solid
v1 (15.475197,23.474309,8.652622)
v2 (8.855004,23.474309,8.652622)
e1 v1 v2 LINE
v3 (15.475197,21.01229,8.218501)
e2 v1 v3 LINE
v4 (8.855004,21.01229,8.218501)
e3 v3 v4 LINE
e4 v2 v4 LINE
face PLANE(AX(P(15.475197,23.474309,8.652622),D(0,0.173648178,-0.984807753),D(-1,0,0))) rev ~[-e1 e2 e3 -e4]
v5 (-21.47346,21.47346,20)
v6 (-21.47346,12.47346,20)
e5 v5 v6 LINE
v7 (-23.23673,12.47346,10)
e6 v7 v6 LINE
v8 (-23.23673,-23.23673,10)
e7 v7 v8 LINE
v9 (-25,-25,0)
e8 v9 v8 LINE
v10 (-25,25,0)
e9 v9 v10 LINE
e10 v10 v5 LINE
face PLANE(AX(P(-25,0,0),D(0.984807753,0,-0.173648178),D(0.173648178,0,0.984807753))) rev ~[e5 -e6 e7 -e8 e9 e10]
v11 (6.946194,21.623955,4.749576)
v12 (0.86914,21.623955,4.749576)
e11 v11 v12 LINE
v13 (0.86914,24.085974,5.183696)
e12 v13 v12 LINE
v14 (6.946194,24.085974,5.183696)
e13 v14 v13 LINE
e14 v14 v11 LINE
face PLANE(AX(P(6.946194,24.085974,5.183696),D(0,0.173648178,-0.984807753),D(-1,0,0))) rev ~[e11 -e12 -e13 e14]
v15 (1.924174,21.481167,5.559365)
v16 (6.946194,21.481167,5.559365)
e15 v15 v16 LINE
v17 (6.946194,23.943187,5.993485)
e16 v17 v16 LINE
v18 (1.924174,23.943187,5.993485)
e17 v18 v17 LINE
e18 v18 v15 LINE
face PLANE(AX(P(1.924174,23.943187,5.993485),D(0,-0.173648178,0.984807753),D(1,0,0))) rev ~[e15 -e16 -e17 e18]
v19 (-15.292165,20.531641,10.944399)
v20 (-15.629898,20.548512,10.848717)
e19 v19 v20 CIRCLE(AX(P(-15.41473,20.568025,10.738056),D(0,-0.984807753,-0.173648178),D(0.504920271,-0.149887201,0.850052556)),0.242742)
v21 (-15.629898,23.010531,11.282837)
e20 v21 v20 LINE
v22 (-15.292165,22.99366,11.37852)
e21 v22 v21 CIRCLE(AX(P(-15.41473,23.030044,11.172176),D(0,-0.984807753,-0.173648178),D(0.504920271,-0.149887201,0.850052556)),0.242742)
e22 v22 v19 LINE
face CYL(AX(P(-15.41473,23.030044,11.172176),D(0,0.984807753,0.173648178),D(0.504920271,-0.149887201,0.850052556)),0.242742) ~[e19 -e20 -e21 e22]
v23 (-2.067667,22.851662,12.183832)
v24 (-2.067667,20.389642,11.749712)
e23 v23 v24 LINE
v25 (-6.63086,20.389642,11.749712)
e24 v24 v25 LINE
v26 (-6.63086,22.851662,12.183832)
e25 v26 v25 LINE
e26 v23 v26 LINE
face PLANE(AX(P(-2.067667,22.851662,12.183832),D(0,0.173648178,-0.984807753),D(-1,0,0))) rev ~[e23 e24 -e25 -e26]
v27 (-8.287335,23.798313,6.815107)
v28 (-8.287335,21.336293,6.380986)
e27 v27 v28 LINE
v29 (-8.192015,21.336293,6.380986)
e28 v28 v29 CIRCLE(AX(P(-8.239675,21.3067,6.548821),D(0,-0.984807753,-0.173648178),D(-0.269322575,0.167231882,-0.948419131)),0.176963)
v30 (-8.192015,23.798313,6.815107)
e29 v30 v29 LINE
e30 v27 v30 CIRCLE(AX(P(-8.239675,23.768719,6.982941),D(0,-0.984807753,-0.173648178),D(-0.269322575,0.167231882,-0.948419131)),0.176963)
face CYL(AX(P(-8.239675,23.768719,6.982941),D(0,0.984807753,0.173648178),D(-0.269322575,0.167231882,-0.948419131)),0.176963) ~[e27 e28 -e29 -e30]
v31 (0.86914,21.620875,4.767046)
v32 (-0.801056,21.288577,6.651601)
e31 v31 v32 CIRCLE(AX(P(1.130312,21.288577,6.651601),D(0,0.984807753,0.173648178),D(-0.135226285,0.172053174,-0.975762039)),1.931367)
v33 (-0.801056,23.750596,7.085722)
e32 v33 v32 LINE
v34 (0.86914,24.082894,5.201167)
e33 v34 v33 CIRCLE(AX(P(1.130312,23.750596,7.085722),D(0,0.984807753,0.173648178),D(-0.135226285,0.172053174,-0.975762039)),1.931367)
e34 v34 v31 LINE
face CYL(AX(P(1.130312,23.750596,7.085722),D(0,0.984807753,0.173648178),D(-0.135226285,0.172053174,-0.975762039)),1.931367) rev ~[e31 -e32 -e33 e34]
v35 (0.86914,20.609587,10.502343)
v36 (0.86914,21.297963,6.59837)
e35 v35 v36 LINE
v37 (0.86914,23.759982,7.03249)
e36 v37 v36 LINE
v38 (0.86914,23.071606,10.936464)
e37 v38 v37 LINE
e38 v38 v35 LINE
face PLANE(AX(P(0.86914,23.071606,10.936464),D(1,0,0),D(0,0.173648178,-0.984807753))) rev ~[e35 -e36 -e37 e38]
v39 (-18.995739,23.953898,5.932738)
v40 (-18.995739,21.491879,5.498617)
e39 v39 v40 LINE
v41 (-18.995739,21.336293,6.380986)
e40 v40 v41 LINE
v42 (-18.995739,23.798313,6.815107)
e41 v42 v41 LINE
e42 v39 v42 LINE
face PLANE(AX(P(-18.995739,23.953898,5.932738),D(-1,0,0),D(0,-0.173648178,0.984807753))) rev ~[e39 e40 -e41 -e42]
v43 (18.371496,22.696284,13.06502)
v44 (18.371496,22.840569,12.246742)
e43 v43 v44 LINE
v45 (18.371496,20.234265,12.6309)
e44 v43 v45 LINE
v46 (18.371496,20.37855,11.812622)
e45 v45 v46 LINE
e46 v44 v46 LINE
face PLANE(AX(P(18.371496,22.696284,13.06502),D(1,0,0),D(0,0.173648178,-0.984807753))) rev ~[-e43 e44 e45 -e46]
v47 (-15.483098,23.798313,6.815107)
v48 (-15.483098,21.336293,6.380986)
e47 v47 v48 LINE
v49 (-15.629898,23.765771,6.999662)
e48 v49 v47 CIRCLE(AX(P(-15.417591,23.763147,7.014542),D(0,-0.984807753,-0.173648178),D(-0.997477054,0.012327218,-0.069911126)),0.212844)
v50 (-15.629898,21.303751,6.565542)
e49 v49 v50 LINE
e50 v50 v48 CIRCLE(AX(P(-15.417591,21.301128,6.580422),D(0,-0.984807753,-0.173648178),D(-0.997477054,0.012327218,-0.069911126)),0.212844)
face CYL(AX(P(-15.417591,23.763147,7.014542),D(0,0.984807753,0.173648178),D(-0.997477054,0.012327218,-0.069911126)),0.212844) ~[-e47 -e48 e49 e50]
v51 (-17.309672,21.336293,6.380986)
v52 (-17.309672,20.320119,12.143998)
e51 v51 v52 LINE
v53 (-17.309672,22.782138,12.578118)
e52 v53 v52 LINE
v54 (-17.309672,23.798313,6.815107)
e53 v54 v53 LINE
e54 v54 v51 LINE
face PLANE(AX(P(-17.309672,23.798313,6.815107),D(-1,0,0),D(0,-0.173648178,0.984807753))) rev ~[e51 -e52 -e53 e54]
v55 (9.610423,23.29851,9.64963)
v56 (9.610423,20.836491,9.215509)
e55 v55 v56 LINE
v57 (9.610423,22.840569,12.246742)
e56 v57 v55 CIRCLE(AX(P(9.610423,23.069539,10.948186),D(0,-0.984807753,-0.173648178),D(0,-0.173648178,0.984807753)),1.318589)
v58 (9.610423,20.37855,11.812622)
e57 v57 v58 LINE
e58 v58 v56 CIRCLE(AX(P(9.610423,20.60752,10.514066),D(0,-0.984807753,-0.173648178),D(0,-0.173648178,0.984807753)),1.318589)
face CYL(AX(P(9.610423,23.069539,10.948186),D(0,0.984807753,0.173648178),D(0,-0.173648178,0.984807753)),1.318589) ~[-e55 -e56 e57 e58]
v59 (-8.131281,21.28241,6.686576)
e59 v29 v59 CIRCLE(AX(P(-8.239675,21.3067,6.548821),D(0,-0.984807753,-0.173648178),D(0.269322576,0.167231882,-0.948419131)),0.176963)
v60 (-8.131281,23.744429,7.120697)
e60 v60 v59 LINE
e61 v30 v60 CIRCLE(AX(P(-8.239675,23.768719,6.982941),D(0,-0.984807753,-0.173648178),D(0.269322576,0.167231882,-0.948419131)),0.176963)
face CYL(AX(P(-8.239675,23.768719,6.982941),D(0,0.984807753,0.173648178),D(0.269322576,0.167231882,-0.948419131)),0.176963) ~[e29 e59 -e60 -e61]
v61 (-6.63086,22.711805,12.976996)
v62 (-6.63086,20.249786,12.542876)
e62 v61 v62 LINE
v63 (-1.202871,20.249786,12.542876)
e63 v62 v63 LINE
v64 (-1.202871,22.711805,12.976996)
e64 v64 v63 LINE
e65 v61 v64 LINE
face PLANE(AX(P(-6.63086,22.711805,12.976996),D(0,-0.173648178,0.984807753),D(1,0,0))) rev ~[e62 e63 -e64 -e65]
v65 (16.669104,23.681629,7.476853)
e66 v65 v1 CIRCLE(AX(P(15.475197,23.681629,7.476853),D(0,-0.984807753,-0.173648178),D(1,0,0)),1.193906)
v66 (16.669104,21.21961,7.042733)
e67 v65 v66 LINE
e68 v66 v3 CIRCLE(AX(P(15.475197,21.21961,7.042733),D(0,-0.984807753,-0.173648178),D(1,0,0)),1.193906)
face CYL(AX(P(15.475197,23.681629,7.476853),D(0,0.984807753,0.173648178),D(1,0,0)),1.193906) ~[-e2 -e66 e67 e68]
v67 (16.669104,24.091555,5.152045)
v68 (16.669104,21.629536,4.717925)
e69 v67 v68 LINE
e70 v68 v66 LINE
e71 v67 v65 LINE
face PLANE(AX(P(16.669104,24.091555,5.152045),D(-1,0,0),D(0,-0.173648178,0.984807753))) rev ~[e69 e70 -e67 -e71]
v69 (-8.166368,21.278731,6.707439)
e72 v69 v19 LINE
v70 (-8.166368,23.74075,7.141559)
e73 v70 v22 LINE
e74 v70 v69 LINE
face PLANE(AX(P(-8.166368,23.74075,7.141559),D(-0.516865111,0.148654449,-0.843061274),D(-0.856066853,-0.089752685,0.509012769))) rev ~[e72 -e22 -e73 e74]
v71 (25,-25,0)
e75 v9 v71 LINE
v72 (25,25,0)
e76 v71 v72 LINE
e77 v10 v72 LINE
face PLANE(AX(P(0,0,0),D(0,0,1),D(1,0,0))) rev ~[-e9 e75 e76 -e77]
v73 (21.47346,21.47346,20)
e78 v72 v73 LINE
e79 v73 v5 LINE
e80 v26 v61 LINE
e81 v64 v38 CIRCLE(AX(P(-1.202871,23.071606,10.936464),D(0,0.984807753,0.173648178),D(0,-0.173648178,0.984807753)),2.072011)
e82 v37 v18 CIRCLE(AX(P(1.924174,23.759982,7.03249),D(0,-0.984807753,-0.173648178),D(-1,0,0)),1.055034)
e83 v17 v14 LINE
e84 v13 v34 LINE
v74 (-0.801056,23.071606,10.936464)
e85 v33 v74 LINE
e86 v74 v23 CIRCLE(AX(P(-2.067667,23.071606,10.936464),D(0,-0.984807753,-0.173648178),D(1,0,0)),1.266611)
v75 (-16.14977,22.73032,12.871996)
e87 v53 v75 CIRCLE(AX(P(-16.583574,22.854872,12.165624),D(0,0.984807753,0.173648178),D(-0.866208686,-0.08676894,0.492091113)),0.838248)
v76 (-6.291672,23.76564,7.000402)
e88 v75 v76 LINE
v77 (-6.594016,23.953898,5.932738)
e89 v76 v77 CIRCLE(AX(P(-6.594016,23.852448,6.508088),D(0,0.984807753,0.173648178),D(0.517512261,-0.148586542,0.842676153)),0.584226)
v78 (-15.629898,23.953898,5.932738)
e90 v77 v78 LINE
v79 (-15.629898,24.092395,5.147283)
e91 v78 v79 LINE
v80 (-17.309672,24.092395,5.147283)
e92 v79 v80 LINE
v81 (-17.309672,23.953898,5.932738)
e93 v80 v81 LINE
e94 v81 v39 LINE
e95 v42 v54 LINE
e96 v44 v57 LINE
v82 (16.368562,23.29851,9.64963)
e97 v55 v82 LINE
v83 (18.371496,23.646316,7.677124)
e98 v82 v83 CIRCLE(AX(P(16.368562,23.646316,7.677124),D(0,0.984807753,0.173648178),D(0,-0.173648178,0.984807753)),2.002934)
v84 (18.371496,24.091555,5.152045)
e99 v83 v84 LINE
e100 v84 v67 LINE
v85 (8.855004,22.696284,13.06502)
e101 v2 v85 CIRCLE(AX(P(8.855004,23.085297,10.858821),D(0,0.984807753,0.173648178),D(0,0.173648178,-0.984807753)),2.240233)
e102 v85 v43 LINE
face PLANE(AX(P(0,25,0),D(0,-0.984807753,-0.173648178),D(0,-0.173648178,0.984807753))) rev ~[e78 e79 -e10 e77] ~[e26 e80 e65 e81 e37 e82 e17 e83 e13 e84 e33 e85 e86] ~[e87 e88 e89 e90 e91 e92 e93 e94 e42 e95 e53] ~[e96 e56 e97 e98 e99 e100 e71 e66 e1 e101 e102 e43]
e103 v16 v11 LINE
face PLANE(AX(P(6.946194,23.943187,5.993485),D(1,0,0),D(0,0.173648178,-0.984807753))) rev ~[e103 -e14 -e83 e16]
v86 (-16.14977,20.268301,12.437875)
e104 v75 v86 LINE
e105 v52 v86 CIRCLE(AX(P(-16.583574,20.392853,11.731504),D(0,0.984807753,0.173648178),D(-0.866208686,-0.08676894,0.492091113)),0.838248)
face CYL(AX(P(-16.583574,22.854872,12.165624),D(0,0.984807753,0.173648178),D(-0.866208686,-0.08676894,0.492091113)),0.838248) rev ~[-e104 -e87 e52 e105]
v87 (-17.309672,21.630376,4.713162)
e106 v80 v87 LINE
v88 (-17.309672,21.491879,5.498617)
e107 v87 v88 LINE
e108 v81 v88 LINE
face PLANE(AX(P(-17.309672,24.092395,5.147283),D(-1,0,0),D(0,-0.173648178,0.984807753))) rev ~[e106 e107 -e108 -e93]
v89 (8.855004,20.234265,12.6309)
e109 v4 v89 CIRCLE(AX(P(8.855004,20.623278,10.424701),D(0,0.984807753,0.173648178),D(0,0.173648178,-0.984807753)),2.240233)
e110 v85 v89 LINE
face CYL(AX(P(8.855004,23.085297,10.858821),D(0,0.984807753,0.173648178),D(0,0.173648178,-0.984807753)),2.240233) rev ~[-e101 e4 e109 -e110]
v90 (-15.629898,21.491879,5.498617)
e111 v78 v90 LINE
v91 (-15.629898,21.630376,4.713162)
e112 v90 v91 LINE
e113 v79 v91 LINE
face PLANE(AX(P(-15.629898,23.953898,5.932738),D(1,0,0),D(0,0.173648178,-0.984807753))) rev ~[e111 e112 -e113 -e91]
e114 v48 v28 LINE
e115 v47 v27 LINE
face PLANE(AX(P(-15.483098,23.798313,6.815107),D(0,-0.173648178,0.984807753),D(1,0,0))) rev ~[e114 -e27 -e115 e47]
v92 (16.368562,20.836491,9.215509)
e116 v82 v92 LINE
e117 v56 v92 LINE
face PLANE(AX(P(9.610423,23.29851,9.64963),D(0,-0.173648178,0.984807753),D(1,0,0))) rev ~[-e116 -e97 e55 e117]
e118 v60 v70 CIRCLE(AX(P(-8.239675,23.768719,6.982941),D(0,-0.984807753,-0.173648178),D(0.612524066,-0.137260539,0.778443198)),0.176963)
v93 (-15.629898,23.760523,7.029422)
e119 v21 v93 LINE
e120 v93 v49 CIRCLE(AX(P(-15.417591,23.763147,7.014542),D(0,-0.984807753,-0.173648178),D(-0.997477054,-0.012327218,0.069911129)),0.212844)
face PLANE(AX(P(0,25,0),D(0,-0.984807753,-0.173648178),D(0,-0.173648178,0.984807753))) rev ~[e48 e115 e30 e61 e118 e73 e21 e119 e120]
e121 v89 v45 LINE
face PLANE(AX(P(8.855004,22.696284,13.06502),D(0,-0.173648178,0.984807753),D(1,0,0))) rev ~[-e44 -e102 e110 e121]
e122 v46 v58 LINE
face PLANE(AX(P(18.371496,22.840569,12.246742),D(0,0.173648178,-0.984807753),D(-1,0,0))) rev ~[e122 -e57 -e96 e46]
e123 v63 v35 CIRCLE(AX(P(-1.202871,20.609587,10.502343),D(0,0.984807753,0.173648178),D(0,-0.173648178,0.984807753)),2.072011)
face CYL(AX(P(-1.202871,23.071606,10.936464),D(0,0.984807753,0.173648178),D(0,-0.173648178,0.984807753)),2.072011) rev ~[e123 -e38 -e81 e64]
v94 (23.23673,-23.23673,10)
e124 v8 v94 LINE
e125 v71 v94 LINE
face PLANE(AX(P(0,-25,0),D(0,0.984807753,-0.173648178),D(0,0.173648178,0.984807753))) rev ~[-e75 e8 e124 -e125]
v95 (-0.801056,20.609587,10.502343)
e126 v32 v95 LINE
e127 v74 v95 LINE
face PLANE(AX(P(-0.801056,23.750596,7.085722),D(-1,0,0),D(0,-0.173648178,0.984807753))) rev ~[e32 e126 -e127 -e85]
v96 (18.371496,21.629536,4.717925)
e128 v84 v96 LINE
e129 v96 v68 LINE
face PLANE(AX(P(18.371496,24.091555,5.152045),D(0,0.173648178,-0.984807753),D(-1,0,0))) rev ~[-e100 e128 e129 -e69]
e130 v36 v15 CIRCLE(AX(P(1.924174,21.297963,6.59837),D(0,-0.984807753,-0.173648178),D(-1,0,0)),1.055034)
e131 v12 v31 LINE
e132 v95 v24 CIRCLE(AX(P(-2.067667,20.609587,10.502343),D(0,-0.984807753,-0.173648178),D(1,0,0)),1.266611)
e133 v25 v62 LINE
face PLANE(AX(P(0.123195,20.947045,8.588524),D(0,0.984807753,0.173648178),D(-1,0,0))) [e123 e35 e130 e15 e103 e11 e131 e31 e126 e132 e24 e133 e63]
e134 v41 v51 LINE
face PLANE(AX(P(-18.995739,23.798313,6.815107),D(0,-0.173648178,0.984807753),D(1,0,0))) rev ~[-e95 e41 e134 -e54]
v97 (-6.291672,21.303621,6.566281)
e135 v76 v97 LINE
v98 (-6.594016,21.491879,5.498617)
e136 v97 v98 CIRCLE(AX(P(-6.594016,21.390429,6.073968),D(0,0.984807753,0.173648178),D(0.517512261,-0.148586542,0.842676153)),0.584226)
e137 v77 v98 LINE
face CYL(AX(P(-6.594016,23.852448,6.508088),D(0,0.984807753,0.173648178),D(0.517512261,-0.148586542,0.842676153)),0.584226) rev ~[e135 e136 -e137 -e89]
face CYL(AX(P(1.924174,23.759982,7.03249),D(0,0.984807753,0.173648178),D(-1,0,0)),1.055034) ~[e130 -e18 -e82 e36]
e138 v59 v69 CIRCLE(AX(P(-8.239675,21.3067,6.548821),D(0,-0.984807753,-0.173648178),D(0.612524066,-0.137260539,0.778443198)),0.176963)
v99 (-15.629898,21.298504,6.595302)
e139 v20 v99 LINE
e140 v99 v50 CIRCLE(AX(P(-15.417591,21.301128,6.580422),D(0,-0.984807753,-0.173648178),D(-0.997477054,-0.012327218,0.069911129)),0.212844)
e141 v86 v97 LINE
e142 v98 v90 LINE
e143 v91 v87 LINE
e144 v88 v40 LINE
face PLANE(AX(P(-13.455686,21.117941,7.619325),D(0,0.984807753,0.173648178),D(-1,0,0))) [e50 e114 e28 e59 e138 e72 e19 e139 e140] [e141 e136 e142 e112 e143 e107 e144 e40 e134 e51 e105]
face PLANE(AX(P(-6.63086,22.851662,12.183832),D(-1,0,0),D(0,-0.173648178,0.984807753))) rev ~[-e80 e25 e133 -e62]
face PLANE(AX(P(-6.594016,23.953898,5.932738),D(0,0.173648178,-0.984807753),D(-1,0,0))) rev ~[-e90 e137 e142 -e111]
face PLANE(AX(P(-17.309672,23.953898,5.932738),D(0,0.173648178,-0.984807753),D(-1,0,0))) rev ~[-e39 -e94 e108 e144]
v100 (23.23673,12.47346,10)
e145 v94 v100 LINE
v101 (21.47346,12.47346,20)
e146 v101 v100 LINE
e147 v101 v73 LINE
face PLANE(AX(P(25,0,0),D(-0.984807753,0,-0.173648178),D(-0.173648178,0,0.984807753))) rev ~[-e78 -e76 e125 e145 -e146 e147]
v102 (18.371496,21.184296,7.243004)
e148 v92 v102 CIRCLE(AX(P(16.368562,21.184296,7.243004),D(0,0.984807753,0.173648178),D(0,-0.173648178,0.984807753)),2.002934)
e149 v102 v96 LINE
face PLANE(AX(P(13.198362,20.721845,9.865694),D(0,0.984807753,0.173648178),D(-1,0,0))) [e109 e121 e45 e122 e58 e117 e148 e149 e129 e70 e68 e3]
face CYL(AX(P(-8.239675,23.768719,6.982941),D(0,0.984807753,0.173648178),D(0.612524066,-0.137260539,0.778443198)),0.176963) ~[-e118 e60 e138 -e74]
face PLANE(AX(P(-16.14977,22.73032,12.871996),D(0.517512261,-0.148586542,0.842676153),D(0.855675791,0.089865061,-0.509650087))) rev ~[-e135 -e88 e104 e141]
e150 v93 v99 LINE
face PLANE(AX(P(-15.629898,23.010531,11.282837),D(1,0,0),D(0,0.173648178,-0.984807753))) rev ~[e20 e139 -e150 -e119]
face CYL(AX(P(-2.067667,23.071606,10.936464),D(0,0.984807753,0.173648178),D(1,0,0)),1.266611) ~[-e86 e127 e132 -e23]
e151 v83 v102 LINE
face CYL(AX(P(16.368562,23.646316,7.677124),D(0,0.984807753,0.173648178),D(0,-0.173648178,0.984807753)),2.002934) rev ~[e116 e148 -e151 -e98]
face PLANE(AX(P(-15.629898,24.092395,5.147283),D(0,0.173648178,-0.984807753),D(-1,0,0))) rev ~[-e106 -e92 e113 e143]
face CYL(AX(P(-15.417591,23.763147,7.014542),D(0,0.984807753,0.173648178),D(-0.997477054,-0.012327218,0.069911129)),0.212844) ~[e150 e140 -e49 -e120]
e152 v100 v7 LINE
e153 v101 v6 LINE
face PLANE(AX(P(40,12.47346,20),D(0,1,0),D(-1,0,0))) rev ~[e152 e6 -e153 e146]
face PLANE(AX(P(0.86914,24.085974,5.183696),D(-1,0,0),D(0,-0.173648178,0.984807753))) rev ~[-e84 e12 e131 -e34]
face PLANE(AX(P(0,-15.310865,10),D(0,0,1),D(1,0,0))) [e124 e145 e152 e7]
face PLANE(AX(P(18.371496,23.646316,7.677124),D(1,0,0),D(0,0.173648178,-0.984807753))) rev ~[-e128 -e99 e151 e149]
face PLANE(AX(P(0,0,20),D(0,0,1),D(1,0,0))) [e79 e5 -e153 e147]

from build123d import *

# Parameters (mm, degrees)
F0_W     = 50
F0_H     = 50
F1_DEPTH = 20
F1_TAPER = 10
F4_DEPTH = 2.5
F5_W     = 42.9469207717
F5_H     = 33.9469207717
F6_DEPTH = 10


with BuildPart() as f1:
    # F0 (on Top) → F1 (new body)
    with BuildSketch(Plane.XY):
        Rectangle(F0_W, F0_H)
    extrude(amount=F1_DEPTH, taper=F1_TAPER)

    # F3 (on face) → F4 (cut)
    with BuildSketch(Plane(origin=(0, 24.2461577598, 4.2752517916), x_dir=(-1, 0, 0), z_dir=(0, 0.984807753, 0.1736481777))):
        with BuildLine():
            ThreePointArc((-62.6127916525, 12.0467824013), (-65.1076142535, 12.9570129346), (-67.6967318406, 13.5478847947))
            Line((-67.6967318406, 13.5478847947), (-67.6967318406, 1.7008224913))
            Line((-67.6967318406, 1.7008224913), (-64.9974017565, 0.6510827954))
            Line((-64.9974017565, 0.6510827954), (-64.9974017565, 10.8966148214))
            ThreePointArc((-64.9974017565, 10.8966148214), (-64.4272854823, 11.4667310956), (-63.8571692081, 10.8966148214))
            Line((-63.8571692081, 10.8966148214), (-63.8571692081, 6.5746134929))
            ThreePointArc((-63.8571692081, 6.5746134929), (-63.1556576777, 6.2062071738), (-62.36370085, 6.1807901262))
            ThreePointArc((-62.36370085, 6.1807901262), (-61.4973256009, 6.5898476466), (-60.9304969783, 7.3622720376))
            ThreePointArc((-60.9304969783, 7.3622720376), (-60.8139105128, 8.6329221267), (-60.9304969783, 9.9035722157))
            ThreePointArc((-60.9304969783, 9.9035722157), (-61.4992901353, 11.1889594143), (-62.6127916525, 12.0467824013))
        make_face()
        with BuildLine():
            Line((-59.852306272, 4.1264343026), (-64.3468709521, 2.5074238792))
            Line((-64.3468709521, 2.5074238792), (-64.3468709521, 0.8903192669))
            Line((-64.3468709521, 0.8903192669), (-59.1967386775, 2.745475089))
            ThreePointArc((-59.1967386775, 2.745475089), (-58.3600263338, 3.0909475212), (-57.5693056666, 3.5316283287))
            ThreePointArc((-57.5693056666, 3.5316283287), (-57.2106825124, 3.8266438133), (-57.1279449174, 4.2835893169))
            ThreePointArc((-57.1279449174, 4.2835893169), (-57.2731405563, 4.626683197), (-57.5693056666, 4.8526951689))
            ThreePointArc((-57.5693056666, 4.8526951689), (-59.1391575222, 5.4515460975), (-60.8064195051, 5.6596200345))
            ThreePointArc((-60.8064195051, 5.6596200345), (-62.3430133295, 5.6105588901), (-63.8571692081, 5.3443643137))
            Line((-63.8571692081, 5.3443643137), (-64.3733816954, 5.1584167399))
            Line((-64.3733816954, 5.1584167399), (-64.3733816954, 3.567821243))
            Line((-64.3733816954, 3.567821243), (-61.5377031577, 4.5892756967))
            ThreePointArc((-61.5377031577, 4.5892756967), (-61.4484140803, 4.623308608), (-61.3579327635, 4.6540317215))
            ThreePointArc((-61.3579327635, 4.6540317215), (-60.7215197269, 4.7724043893), (-60.0756078839, 4.7296079809))
            ThreePointArc((-60.0756078839, 4.7296079809), (-59.8276638338, 4.6512158498), (-59.6342471347, 4.4774011246))
            ThreePointArc((-59.6342471347, 4.4774011246), (-59.607836679, 4.389638385), (-59.6342471347, 4.3018756454))
            ThreePointArc((-59.6342471347, 4.3018756454), (-59.7293419591, 4.1968352348), (-59.852306272, 4.1264343026))
        make_face()
        with BuildLine():
            Line((-61.5377031577, 4.5892756967), (-61.3579327635, 4.6540317215))
            ThreePointArc((-61.3579327635, 4.6540317215), (-61.4484140803, 4.623308608), (-61.5377031577, 4.5892756967))
        make_face()
        with BuildLine():
            Line((-71.3693953118, 3.7232309117), (-68.2338687675, 4.8526951689))
            Line((-68.2338687675, 4.8526951689), (-68.2338687675, 6.3986412263))
            Line((-68.2338687675, 6.3986412263), (-72.8589746057, 4.7326078963))
            ThreePointArc((-72.8589746057, 4.7326078963), (-73.3660543121, 4.4190102256), (-73.7959157464, 4.0058607672))
            ThreePointArc((-73.7959157464, 4.0058607672), (-73.8489158308, 3.7221286407), (-73.7959157464, 3.4383965142))
            ThreePointArc((-73.7959157464, 3.4383965142), (-73.5719055484, 3.0819711924), (-73.2075114709, 2.8711714412))
            ThreePointArc((-73.2075114709, 2.8711714412), (-72.698935386, 2.6276316569), (-72.151396822, 2.4928622925))
            ThreePointArc((-72.151396822, 2.4928622925), (-71.0199458053, 2.2564276603), (-69.8657767964, 2.1933670766))
            ThreePointArc((-69.8657767964, 2.1933670766), (-69.0466795364, 2.2155081429), (-68.2338687675, 2.3191865022))
            Line((-68.2338687675, 2.3191865022), (-68.2338687675, 3.7681726435))
            ThreePointArc((-68.2338687675, 3.7681726435), (-68.7127832674, 3.5843780991), (-69.2045442964, 3.4383965142))
            ThreePointArc((-69.2045442964, 3.4383965142), (-70.2705361783, 3.1526989385), (-71.3693953118, 3.2550239211))
            ThreePointArc((-71.3693953118, 3.2550239211), (-71.4727799338, 3.4891274164), (-71.3693953118, 3.7232309117))
        make_face()
        with BuildLine():
            Line((-8.8550038247, 8.9253647507), (-18.3714963496, 8.9253647507))
            Line((-18.3714963496, 8.9253647507), (-18.3714963496, 8.0944637033))
            Line((-18.3714963496, 8.0944637033), (-9.6104234449, 8.0944637033))
            ThreePointArc((-9.6104234449, 8.0944637033), (-8.2918347743, 6.7758750328), (-9.6104234449, 5.4572863622))
            Line((-9.6104234449, 5.4572863622), (-16.3685619547, 5.4572863622))
            ThreePointArc((-16.3685619547, 5.4572863622), (-17.7848504476, 4.8706404602), (-18.3714963496, 3.4543519673))
            Line((-18.3714963496, 3.4543519673), (-18.3714963496, 0.8903192669))
            Line((-18.3714963496, 0.8903192669), (-16.6691035906, 0.8903192669))
            Line((-16.6691035906, 0.8903192669), (-16.6691035906, 3.2509914089))
            ThreePointArc((-16.6691035906, 3.2509914089), (-16.3194164791, 4.0952107761), (-15.475197112, 4.4448978876))
            Line((-15.475197112, 4.4448978876), (-8.8550038247, 4.4448978876))
            ThreePointArc((-8.8550038247, 4.4448978876), (-6.6147703931, 6.6851313191), (-8.8550038247, 8.9253647507))
        make_face()
        with BuildLine():
            Line((6.6308597895, 8.0305831634), (6.6308597895, 8.8359827707))
            Line((6.6308597895, 8.8359827707), (1.2028706223, 8.8359827707))
            ThreePointArc((1.2028706223, 8.8359827707), (-0.2622622882, 8.2291048484), (-0.8691402105, 6.7639719379))
            Line((-0.8691402105, 6.7639719379), (-0.8691402105, 2.7997734057))
            ThreePointArc((-0.8691402105, 2.7997734057), (-1.1781523708, 2.0537520573), (-1.9241737192, 1.744739897))
            Line((-1.9241737192, 1.744739897), (-6.9461943019, 1.744739897))
            Line((-6.9461943019, 1.744739897), (-6.9461943019, 0.9224587447))
            Line((-6.9461943019, 0.9224587447), (-1.1303118512, 0.9224587447))
            ThreePointArc((-1.1303118512, 0.9224587447), (-0.9994251278, 0.9268988758), (-0.8691402105, 0.9401988537))
            ThreePointArc((-0.8691402105, 0.9401988537), (0.324782393, 1.5838337022), (0.8010555712, 2.8538261671))
            Line((0.8010555712, 2.8538261671), (0.8010555712, 6.7639719379))
            ThreePointArc((0.8010555712, 6.7639719379), (1.17203741, 7.6596013245), (2.0676667967, 8.0305831634))
            Line((2.0676667967, 8.0305831634), (6.6308597895, 8.0305831634))
        make_face()
        with BuildLine():
            Line((-0.8691402105, 0.9224587447), (-0.8691402105, 0.9401988537))
            ThreePointArc((-0.8691402105, 0.9401988537), (-0.9994251278, 0.9268988758), (-1.1303118512, 0.9224587447))
            Line((-1.1303118512, 0.9224587447), (-0.8691402105, 0.9224587447))
        make_face()
        with BuildLine():
            Line((16.1497702226, 8.7293623708), (6.2916715828, 2.7671895852))
            ThreePointArc((6.2916715828, 2.7671895852), (6.0312638327, 2.1103408421), (6.5940157184, 1.6830554777))
            Line((6.5940157184, 1.6830554777), (15.6298977944, 1.6830554777))
            Line((15.6298977944, 1.6830554777), (15.6298977944, 0.8854835551))
            Line((15.6298977944, 0.8854835551), (17.3096715009, 0.8854835551))
            Line((17.3096715009, 0.8854835551), (17.3096715009, 1.6830554777))
            Line((17.3096715009, 1.6830554777), (18.9957390394, 1.6830554777))
            Line((18.9957390394, 1.6830554777), (18.9957390394, 2.5790360808))
            Line((18.9957390394, 2.5790360808), (17.3096715009, 2.5790360808))
            Line((17.3096715009, 2.5790360808), (17.3096715009, 8.4309516424))
            ThreePointArc((17.3096715009, 8.4309516424), (16.7924307072, 8.8239057157), (16.1497702226, 8.7293623708))
        make_face()
        with BuildLine():
            ThreePointArc((15.6298977944, 2.7664388472), (15.5851471152, 2.650295301), (15.4830977637, 2.5790360808))
            Line((15.4830977637, 2.5790360808), (8.2873353154, 2.5790360808))
            ThreePointArc((8.2873353154, 2.5790360808), (8.2396752723, 2.5724973144), (8.1920152292, 2.5790360808))
            ThreePointArc((8.1920152292, 2.5790360808), (8.0660077379, 2.7154691755), (8.1312813761, 2.8893404766))
            ThreePointArc((8.1312813761, 2.8893404766), (8.1482094403, 2.900951867), (8.1663682644, 2.9105247899))
            Line((8.1663682644, 2.9105247899), (15.2921648042, 7.212847216))
            ThreePointArc((15.2921648042, 7.212847216), (15.4818399907, 7.2366014749), (15.6298977944, 7.1156889945))
            Line((15.6298977944, 7.1156889945), (15.6298977944, 2.7966582224))
            ThreePointArc((15.6298977944, 2.7966582224), (15.6304347873, 2.7815485348), (15.6298977944, 2.7664388472))
        make_face(mode=Mode.SUBTRACT)
    extrude(amount=-F4_DEPTH, mode=Mode.SUBTRACT)

    # F5 (on face) → F6 (cut)
    with BuildSketch(Plane.XY.offset(20)):
        Polygon((-21.4734603858, 12.4734603858), (-40, 12.4734603858), (-40, -37.5265396142), (40, -37.5265396142), (40, 12.4734603858), (21.4734603858, 12.4734603858), (21.4734603858, -21.4734603858), (-21.4734603858, -21.4734603858), align=None)
        with Locations((0, -4.5)):
            Rectangle(F5_W, F5_H)
    extrude(amount=-F6_DEPTH, mode=Mode.SUBTRACT)


solid = f1.part
